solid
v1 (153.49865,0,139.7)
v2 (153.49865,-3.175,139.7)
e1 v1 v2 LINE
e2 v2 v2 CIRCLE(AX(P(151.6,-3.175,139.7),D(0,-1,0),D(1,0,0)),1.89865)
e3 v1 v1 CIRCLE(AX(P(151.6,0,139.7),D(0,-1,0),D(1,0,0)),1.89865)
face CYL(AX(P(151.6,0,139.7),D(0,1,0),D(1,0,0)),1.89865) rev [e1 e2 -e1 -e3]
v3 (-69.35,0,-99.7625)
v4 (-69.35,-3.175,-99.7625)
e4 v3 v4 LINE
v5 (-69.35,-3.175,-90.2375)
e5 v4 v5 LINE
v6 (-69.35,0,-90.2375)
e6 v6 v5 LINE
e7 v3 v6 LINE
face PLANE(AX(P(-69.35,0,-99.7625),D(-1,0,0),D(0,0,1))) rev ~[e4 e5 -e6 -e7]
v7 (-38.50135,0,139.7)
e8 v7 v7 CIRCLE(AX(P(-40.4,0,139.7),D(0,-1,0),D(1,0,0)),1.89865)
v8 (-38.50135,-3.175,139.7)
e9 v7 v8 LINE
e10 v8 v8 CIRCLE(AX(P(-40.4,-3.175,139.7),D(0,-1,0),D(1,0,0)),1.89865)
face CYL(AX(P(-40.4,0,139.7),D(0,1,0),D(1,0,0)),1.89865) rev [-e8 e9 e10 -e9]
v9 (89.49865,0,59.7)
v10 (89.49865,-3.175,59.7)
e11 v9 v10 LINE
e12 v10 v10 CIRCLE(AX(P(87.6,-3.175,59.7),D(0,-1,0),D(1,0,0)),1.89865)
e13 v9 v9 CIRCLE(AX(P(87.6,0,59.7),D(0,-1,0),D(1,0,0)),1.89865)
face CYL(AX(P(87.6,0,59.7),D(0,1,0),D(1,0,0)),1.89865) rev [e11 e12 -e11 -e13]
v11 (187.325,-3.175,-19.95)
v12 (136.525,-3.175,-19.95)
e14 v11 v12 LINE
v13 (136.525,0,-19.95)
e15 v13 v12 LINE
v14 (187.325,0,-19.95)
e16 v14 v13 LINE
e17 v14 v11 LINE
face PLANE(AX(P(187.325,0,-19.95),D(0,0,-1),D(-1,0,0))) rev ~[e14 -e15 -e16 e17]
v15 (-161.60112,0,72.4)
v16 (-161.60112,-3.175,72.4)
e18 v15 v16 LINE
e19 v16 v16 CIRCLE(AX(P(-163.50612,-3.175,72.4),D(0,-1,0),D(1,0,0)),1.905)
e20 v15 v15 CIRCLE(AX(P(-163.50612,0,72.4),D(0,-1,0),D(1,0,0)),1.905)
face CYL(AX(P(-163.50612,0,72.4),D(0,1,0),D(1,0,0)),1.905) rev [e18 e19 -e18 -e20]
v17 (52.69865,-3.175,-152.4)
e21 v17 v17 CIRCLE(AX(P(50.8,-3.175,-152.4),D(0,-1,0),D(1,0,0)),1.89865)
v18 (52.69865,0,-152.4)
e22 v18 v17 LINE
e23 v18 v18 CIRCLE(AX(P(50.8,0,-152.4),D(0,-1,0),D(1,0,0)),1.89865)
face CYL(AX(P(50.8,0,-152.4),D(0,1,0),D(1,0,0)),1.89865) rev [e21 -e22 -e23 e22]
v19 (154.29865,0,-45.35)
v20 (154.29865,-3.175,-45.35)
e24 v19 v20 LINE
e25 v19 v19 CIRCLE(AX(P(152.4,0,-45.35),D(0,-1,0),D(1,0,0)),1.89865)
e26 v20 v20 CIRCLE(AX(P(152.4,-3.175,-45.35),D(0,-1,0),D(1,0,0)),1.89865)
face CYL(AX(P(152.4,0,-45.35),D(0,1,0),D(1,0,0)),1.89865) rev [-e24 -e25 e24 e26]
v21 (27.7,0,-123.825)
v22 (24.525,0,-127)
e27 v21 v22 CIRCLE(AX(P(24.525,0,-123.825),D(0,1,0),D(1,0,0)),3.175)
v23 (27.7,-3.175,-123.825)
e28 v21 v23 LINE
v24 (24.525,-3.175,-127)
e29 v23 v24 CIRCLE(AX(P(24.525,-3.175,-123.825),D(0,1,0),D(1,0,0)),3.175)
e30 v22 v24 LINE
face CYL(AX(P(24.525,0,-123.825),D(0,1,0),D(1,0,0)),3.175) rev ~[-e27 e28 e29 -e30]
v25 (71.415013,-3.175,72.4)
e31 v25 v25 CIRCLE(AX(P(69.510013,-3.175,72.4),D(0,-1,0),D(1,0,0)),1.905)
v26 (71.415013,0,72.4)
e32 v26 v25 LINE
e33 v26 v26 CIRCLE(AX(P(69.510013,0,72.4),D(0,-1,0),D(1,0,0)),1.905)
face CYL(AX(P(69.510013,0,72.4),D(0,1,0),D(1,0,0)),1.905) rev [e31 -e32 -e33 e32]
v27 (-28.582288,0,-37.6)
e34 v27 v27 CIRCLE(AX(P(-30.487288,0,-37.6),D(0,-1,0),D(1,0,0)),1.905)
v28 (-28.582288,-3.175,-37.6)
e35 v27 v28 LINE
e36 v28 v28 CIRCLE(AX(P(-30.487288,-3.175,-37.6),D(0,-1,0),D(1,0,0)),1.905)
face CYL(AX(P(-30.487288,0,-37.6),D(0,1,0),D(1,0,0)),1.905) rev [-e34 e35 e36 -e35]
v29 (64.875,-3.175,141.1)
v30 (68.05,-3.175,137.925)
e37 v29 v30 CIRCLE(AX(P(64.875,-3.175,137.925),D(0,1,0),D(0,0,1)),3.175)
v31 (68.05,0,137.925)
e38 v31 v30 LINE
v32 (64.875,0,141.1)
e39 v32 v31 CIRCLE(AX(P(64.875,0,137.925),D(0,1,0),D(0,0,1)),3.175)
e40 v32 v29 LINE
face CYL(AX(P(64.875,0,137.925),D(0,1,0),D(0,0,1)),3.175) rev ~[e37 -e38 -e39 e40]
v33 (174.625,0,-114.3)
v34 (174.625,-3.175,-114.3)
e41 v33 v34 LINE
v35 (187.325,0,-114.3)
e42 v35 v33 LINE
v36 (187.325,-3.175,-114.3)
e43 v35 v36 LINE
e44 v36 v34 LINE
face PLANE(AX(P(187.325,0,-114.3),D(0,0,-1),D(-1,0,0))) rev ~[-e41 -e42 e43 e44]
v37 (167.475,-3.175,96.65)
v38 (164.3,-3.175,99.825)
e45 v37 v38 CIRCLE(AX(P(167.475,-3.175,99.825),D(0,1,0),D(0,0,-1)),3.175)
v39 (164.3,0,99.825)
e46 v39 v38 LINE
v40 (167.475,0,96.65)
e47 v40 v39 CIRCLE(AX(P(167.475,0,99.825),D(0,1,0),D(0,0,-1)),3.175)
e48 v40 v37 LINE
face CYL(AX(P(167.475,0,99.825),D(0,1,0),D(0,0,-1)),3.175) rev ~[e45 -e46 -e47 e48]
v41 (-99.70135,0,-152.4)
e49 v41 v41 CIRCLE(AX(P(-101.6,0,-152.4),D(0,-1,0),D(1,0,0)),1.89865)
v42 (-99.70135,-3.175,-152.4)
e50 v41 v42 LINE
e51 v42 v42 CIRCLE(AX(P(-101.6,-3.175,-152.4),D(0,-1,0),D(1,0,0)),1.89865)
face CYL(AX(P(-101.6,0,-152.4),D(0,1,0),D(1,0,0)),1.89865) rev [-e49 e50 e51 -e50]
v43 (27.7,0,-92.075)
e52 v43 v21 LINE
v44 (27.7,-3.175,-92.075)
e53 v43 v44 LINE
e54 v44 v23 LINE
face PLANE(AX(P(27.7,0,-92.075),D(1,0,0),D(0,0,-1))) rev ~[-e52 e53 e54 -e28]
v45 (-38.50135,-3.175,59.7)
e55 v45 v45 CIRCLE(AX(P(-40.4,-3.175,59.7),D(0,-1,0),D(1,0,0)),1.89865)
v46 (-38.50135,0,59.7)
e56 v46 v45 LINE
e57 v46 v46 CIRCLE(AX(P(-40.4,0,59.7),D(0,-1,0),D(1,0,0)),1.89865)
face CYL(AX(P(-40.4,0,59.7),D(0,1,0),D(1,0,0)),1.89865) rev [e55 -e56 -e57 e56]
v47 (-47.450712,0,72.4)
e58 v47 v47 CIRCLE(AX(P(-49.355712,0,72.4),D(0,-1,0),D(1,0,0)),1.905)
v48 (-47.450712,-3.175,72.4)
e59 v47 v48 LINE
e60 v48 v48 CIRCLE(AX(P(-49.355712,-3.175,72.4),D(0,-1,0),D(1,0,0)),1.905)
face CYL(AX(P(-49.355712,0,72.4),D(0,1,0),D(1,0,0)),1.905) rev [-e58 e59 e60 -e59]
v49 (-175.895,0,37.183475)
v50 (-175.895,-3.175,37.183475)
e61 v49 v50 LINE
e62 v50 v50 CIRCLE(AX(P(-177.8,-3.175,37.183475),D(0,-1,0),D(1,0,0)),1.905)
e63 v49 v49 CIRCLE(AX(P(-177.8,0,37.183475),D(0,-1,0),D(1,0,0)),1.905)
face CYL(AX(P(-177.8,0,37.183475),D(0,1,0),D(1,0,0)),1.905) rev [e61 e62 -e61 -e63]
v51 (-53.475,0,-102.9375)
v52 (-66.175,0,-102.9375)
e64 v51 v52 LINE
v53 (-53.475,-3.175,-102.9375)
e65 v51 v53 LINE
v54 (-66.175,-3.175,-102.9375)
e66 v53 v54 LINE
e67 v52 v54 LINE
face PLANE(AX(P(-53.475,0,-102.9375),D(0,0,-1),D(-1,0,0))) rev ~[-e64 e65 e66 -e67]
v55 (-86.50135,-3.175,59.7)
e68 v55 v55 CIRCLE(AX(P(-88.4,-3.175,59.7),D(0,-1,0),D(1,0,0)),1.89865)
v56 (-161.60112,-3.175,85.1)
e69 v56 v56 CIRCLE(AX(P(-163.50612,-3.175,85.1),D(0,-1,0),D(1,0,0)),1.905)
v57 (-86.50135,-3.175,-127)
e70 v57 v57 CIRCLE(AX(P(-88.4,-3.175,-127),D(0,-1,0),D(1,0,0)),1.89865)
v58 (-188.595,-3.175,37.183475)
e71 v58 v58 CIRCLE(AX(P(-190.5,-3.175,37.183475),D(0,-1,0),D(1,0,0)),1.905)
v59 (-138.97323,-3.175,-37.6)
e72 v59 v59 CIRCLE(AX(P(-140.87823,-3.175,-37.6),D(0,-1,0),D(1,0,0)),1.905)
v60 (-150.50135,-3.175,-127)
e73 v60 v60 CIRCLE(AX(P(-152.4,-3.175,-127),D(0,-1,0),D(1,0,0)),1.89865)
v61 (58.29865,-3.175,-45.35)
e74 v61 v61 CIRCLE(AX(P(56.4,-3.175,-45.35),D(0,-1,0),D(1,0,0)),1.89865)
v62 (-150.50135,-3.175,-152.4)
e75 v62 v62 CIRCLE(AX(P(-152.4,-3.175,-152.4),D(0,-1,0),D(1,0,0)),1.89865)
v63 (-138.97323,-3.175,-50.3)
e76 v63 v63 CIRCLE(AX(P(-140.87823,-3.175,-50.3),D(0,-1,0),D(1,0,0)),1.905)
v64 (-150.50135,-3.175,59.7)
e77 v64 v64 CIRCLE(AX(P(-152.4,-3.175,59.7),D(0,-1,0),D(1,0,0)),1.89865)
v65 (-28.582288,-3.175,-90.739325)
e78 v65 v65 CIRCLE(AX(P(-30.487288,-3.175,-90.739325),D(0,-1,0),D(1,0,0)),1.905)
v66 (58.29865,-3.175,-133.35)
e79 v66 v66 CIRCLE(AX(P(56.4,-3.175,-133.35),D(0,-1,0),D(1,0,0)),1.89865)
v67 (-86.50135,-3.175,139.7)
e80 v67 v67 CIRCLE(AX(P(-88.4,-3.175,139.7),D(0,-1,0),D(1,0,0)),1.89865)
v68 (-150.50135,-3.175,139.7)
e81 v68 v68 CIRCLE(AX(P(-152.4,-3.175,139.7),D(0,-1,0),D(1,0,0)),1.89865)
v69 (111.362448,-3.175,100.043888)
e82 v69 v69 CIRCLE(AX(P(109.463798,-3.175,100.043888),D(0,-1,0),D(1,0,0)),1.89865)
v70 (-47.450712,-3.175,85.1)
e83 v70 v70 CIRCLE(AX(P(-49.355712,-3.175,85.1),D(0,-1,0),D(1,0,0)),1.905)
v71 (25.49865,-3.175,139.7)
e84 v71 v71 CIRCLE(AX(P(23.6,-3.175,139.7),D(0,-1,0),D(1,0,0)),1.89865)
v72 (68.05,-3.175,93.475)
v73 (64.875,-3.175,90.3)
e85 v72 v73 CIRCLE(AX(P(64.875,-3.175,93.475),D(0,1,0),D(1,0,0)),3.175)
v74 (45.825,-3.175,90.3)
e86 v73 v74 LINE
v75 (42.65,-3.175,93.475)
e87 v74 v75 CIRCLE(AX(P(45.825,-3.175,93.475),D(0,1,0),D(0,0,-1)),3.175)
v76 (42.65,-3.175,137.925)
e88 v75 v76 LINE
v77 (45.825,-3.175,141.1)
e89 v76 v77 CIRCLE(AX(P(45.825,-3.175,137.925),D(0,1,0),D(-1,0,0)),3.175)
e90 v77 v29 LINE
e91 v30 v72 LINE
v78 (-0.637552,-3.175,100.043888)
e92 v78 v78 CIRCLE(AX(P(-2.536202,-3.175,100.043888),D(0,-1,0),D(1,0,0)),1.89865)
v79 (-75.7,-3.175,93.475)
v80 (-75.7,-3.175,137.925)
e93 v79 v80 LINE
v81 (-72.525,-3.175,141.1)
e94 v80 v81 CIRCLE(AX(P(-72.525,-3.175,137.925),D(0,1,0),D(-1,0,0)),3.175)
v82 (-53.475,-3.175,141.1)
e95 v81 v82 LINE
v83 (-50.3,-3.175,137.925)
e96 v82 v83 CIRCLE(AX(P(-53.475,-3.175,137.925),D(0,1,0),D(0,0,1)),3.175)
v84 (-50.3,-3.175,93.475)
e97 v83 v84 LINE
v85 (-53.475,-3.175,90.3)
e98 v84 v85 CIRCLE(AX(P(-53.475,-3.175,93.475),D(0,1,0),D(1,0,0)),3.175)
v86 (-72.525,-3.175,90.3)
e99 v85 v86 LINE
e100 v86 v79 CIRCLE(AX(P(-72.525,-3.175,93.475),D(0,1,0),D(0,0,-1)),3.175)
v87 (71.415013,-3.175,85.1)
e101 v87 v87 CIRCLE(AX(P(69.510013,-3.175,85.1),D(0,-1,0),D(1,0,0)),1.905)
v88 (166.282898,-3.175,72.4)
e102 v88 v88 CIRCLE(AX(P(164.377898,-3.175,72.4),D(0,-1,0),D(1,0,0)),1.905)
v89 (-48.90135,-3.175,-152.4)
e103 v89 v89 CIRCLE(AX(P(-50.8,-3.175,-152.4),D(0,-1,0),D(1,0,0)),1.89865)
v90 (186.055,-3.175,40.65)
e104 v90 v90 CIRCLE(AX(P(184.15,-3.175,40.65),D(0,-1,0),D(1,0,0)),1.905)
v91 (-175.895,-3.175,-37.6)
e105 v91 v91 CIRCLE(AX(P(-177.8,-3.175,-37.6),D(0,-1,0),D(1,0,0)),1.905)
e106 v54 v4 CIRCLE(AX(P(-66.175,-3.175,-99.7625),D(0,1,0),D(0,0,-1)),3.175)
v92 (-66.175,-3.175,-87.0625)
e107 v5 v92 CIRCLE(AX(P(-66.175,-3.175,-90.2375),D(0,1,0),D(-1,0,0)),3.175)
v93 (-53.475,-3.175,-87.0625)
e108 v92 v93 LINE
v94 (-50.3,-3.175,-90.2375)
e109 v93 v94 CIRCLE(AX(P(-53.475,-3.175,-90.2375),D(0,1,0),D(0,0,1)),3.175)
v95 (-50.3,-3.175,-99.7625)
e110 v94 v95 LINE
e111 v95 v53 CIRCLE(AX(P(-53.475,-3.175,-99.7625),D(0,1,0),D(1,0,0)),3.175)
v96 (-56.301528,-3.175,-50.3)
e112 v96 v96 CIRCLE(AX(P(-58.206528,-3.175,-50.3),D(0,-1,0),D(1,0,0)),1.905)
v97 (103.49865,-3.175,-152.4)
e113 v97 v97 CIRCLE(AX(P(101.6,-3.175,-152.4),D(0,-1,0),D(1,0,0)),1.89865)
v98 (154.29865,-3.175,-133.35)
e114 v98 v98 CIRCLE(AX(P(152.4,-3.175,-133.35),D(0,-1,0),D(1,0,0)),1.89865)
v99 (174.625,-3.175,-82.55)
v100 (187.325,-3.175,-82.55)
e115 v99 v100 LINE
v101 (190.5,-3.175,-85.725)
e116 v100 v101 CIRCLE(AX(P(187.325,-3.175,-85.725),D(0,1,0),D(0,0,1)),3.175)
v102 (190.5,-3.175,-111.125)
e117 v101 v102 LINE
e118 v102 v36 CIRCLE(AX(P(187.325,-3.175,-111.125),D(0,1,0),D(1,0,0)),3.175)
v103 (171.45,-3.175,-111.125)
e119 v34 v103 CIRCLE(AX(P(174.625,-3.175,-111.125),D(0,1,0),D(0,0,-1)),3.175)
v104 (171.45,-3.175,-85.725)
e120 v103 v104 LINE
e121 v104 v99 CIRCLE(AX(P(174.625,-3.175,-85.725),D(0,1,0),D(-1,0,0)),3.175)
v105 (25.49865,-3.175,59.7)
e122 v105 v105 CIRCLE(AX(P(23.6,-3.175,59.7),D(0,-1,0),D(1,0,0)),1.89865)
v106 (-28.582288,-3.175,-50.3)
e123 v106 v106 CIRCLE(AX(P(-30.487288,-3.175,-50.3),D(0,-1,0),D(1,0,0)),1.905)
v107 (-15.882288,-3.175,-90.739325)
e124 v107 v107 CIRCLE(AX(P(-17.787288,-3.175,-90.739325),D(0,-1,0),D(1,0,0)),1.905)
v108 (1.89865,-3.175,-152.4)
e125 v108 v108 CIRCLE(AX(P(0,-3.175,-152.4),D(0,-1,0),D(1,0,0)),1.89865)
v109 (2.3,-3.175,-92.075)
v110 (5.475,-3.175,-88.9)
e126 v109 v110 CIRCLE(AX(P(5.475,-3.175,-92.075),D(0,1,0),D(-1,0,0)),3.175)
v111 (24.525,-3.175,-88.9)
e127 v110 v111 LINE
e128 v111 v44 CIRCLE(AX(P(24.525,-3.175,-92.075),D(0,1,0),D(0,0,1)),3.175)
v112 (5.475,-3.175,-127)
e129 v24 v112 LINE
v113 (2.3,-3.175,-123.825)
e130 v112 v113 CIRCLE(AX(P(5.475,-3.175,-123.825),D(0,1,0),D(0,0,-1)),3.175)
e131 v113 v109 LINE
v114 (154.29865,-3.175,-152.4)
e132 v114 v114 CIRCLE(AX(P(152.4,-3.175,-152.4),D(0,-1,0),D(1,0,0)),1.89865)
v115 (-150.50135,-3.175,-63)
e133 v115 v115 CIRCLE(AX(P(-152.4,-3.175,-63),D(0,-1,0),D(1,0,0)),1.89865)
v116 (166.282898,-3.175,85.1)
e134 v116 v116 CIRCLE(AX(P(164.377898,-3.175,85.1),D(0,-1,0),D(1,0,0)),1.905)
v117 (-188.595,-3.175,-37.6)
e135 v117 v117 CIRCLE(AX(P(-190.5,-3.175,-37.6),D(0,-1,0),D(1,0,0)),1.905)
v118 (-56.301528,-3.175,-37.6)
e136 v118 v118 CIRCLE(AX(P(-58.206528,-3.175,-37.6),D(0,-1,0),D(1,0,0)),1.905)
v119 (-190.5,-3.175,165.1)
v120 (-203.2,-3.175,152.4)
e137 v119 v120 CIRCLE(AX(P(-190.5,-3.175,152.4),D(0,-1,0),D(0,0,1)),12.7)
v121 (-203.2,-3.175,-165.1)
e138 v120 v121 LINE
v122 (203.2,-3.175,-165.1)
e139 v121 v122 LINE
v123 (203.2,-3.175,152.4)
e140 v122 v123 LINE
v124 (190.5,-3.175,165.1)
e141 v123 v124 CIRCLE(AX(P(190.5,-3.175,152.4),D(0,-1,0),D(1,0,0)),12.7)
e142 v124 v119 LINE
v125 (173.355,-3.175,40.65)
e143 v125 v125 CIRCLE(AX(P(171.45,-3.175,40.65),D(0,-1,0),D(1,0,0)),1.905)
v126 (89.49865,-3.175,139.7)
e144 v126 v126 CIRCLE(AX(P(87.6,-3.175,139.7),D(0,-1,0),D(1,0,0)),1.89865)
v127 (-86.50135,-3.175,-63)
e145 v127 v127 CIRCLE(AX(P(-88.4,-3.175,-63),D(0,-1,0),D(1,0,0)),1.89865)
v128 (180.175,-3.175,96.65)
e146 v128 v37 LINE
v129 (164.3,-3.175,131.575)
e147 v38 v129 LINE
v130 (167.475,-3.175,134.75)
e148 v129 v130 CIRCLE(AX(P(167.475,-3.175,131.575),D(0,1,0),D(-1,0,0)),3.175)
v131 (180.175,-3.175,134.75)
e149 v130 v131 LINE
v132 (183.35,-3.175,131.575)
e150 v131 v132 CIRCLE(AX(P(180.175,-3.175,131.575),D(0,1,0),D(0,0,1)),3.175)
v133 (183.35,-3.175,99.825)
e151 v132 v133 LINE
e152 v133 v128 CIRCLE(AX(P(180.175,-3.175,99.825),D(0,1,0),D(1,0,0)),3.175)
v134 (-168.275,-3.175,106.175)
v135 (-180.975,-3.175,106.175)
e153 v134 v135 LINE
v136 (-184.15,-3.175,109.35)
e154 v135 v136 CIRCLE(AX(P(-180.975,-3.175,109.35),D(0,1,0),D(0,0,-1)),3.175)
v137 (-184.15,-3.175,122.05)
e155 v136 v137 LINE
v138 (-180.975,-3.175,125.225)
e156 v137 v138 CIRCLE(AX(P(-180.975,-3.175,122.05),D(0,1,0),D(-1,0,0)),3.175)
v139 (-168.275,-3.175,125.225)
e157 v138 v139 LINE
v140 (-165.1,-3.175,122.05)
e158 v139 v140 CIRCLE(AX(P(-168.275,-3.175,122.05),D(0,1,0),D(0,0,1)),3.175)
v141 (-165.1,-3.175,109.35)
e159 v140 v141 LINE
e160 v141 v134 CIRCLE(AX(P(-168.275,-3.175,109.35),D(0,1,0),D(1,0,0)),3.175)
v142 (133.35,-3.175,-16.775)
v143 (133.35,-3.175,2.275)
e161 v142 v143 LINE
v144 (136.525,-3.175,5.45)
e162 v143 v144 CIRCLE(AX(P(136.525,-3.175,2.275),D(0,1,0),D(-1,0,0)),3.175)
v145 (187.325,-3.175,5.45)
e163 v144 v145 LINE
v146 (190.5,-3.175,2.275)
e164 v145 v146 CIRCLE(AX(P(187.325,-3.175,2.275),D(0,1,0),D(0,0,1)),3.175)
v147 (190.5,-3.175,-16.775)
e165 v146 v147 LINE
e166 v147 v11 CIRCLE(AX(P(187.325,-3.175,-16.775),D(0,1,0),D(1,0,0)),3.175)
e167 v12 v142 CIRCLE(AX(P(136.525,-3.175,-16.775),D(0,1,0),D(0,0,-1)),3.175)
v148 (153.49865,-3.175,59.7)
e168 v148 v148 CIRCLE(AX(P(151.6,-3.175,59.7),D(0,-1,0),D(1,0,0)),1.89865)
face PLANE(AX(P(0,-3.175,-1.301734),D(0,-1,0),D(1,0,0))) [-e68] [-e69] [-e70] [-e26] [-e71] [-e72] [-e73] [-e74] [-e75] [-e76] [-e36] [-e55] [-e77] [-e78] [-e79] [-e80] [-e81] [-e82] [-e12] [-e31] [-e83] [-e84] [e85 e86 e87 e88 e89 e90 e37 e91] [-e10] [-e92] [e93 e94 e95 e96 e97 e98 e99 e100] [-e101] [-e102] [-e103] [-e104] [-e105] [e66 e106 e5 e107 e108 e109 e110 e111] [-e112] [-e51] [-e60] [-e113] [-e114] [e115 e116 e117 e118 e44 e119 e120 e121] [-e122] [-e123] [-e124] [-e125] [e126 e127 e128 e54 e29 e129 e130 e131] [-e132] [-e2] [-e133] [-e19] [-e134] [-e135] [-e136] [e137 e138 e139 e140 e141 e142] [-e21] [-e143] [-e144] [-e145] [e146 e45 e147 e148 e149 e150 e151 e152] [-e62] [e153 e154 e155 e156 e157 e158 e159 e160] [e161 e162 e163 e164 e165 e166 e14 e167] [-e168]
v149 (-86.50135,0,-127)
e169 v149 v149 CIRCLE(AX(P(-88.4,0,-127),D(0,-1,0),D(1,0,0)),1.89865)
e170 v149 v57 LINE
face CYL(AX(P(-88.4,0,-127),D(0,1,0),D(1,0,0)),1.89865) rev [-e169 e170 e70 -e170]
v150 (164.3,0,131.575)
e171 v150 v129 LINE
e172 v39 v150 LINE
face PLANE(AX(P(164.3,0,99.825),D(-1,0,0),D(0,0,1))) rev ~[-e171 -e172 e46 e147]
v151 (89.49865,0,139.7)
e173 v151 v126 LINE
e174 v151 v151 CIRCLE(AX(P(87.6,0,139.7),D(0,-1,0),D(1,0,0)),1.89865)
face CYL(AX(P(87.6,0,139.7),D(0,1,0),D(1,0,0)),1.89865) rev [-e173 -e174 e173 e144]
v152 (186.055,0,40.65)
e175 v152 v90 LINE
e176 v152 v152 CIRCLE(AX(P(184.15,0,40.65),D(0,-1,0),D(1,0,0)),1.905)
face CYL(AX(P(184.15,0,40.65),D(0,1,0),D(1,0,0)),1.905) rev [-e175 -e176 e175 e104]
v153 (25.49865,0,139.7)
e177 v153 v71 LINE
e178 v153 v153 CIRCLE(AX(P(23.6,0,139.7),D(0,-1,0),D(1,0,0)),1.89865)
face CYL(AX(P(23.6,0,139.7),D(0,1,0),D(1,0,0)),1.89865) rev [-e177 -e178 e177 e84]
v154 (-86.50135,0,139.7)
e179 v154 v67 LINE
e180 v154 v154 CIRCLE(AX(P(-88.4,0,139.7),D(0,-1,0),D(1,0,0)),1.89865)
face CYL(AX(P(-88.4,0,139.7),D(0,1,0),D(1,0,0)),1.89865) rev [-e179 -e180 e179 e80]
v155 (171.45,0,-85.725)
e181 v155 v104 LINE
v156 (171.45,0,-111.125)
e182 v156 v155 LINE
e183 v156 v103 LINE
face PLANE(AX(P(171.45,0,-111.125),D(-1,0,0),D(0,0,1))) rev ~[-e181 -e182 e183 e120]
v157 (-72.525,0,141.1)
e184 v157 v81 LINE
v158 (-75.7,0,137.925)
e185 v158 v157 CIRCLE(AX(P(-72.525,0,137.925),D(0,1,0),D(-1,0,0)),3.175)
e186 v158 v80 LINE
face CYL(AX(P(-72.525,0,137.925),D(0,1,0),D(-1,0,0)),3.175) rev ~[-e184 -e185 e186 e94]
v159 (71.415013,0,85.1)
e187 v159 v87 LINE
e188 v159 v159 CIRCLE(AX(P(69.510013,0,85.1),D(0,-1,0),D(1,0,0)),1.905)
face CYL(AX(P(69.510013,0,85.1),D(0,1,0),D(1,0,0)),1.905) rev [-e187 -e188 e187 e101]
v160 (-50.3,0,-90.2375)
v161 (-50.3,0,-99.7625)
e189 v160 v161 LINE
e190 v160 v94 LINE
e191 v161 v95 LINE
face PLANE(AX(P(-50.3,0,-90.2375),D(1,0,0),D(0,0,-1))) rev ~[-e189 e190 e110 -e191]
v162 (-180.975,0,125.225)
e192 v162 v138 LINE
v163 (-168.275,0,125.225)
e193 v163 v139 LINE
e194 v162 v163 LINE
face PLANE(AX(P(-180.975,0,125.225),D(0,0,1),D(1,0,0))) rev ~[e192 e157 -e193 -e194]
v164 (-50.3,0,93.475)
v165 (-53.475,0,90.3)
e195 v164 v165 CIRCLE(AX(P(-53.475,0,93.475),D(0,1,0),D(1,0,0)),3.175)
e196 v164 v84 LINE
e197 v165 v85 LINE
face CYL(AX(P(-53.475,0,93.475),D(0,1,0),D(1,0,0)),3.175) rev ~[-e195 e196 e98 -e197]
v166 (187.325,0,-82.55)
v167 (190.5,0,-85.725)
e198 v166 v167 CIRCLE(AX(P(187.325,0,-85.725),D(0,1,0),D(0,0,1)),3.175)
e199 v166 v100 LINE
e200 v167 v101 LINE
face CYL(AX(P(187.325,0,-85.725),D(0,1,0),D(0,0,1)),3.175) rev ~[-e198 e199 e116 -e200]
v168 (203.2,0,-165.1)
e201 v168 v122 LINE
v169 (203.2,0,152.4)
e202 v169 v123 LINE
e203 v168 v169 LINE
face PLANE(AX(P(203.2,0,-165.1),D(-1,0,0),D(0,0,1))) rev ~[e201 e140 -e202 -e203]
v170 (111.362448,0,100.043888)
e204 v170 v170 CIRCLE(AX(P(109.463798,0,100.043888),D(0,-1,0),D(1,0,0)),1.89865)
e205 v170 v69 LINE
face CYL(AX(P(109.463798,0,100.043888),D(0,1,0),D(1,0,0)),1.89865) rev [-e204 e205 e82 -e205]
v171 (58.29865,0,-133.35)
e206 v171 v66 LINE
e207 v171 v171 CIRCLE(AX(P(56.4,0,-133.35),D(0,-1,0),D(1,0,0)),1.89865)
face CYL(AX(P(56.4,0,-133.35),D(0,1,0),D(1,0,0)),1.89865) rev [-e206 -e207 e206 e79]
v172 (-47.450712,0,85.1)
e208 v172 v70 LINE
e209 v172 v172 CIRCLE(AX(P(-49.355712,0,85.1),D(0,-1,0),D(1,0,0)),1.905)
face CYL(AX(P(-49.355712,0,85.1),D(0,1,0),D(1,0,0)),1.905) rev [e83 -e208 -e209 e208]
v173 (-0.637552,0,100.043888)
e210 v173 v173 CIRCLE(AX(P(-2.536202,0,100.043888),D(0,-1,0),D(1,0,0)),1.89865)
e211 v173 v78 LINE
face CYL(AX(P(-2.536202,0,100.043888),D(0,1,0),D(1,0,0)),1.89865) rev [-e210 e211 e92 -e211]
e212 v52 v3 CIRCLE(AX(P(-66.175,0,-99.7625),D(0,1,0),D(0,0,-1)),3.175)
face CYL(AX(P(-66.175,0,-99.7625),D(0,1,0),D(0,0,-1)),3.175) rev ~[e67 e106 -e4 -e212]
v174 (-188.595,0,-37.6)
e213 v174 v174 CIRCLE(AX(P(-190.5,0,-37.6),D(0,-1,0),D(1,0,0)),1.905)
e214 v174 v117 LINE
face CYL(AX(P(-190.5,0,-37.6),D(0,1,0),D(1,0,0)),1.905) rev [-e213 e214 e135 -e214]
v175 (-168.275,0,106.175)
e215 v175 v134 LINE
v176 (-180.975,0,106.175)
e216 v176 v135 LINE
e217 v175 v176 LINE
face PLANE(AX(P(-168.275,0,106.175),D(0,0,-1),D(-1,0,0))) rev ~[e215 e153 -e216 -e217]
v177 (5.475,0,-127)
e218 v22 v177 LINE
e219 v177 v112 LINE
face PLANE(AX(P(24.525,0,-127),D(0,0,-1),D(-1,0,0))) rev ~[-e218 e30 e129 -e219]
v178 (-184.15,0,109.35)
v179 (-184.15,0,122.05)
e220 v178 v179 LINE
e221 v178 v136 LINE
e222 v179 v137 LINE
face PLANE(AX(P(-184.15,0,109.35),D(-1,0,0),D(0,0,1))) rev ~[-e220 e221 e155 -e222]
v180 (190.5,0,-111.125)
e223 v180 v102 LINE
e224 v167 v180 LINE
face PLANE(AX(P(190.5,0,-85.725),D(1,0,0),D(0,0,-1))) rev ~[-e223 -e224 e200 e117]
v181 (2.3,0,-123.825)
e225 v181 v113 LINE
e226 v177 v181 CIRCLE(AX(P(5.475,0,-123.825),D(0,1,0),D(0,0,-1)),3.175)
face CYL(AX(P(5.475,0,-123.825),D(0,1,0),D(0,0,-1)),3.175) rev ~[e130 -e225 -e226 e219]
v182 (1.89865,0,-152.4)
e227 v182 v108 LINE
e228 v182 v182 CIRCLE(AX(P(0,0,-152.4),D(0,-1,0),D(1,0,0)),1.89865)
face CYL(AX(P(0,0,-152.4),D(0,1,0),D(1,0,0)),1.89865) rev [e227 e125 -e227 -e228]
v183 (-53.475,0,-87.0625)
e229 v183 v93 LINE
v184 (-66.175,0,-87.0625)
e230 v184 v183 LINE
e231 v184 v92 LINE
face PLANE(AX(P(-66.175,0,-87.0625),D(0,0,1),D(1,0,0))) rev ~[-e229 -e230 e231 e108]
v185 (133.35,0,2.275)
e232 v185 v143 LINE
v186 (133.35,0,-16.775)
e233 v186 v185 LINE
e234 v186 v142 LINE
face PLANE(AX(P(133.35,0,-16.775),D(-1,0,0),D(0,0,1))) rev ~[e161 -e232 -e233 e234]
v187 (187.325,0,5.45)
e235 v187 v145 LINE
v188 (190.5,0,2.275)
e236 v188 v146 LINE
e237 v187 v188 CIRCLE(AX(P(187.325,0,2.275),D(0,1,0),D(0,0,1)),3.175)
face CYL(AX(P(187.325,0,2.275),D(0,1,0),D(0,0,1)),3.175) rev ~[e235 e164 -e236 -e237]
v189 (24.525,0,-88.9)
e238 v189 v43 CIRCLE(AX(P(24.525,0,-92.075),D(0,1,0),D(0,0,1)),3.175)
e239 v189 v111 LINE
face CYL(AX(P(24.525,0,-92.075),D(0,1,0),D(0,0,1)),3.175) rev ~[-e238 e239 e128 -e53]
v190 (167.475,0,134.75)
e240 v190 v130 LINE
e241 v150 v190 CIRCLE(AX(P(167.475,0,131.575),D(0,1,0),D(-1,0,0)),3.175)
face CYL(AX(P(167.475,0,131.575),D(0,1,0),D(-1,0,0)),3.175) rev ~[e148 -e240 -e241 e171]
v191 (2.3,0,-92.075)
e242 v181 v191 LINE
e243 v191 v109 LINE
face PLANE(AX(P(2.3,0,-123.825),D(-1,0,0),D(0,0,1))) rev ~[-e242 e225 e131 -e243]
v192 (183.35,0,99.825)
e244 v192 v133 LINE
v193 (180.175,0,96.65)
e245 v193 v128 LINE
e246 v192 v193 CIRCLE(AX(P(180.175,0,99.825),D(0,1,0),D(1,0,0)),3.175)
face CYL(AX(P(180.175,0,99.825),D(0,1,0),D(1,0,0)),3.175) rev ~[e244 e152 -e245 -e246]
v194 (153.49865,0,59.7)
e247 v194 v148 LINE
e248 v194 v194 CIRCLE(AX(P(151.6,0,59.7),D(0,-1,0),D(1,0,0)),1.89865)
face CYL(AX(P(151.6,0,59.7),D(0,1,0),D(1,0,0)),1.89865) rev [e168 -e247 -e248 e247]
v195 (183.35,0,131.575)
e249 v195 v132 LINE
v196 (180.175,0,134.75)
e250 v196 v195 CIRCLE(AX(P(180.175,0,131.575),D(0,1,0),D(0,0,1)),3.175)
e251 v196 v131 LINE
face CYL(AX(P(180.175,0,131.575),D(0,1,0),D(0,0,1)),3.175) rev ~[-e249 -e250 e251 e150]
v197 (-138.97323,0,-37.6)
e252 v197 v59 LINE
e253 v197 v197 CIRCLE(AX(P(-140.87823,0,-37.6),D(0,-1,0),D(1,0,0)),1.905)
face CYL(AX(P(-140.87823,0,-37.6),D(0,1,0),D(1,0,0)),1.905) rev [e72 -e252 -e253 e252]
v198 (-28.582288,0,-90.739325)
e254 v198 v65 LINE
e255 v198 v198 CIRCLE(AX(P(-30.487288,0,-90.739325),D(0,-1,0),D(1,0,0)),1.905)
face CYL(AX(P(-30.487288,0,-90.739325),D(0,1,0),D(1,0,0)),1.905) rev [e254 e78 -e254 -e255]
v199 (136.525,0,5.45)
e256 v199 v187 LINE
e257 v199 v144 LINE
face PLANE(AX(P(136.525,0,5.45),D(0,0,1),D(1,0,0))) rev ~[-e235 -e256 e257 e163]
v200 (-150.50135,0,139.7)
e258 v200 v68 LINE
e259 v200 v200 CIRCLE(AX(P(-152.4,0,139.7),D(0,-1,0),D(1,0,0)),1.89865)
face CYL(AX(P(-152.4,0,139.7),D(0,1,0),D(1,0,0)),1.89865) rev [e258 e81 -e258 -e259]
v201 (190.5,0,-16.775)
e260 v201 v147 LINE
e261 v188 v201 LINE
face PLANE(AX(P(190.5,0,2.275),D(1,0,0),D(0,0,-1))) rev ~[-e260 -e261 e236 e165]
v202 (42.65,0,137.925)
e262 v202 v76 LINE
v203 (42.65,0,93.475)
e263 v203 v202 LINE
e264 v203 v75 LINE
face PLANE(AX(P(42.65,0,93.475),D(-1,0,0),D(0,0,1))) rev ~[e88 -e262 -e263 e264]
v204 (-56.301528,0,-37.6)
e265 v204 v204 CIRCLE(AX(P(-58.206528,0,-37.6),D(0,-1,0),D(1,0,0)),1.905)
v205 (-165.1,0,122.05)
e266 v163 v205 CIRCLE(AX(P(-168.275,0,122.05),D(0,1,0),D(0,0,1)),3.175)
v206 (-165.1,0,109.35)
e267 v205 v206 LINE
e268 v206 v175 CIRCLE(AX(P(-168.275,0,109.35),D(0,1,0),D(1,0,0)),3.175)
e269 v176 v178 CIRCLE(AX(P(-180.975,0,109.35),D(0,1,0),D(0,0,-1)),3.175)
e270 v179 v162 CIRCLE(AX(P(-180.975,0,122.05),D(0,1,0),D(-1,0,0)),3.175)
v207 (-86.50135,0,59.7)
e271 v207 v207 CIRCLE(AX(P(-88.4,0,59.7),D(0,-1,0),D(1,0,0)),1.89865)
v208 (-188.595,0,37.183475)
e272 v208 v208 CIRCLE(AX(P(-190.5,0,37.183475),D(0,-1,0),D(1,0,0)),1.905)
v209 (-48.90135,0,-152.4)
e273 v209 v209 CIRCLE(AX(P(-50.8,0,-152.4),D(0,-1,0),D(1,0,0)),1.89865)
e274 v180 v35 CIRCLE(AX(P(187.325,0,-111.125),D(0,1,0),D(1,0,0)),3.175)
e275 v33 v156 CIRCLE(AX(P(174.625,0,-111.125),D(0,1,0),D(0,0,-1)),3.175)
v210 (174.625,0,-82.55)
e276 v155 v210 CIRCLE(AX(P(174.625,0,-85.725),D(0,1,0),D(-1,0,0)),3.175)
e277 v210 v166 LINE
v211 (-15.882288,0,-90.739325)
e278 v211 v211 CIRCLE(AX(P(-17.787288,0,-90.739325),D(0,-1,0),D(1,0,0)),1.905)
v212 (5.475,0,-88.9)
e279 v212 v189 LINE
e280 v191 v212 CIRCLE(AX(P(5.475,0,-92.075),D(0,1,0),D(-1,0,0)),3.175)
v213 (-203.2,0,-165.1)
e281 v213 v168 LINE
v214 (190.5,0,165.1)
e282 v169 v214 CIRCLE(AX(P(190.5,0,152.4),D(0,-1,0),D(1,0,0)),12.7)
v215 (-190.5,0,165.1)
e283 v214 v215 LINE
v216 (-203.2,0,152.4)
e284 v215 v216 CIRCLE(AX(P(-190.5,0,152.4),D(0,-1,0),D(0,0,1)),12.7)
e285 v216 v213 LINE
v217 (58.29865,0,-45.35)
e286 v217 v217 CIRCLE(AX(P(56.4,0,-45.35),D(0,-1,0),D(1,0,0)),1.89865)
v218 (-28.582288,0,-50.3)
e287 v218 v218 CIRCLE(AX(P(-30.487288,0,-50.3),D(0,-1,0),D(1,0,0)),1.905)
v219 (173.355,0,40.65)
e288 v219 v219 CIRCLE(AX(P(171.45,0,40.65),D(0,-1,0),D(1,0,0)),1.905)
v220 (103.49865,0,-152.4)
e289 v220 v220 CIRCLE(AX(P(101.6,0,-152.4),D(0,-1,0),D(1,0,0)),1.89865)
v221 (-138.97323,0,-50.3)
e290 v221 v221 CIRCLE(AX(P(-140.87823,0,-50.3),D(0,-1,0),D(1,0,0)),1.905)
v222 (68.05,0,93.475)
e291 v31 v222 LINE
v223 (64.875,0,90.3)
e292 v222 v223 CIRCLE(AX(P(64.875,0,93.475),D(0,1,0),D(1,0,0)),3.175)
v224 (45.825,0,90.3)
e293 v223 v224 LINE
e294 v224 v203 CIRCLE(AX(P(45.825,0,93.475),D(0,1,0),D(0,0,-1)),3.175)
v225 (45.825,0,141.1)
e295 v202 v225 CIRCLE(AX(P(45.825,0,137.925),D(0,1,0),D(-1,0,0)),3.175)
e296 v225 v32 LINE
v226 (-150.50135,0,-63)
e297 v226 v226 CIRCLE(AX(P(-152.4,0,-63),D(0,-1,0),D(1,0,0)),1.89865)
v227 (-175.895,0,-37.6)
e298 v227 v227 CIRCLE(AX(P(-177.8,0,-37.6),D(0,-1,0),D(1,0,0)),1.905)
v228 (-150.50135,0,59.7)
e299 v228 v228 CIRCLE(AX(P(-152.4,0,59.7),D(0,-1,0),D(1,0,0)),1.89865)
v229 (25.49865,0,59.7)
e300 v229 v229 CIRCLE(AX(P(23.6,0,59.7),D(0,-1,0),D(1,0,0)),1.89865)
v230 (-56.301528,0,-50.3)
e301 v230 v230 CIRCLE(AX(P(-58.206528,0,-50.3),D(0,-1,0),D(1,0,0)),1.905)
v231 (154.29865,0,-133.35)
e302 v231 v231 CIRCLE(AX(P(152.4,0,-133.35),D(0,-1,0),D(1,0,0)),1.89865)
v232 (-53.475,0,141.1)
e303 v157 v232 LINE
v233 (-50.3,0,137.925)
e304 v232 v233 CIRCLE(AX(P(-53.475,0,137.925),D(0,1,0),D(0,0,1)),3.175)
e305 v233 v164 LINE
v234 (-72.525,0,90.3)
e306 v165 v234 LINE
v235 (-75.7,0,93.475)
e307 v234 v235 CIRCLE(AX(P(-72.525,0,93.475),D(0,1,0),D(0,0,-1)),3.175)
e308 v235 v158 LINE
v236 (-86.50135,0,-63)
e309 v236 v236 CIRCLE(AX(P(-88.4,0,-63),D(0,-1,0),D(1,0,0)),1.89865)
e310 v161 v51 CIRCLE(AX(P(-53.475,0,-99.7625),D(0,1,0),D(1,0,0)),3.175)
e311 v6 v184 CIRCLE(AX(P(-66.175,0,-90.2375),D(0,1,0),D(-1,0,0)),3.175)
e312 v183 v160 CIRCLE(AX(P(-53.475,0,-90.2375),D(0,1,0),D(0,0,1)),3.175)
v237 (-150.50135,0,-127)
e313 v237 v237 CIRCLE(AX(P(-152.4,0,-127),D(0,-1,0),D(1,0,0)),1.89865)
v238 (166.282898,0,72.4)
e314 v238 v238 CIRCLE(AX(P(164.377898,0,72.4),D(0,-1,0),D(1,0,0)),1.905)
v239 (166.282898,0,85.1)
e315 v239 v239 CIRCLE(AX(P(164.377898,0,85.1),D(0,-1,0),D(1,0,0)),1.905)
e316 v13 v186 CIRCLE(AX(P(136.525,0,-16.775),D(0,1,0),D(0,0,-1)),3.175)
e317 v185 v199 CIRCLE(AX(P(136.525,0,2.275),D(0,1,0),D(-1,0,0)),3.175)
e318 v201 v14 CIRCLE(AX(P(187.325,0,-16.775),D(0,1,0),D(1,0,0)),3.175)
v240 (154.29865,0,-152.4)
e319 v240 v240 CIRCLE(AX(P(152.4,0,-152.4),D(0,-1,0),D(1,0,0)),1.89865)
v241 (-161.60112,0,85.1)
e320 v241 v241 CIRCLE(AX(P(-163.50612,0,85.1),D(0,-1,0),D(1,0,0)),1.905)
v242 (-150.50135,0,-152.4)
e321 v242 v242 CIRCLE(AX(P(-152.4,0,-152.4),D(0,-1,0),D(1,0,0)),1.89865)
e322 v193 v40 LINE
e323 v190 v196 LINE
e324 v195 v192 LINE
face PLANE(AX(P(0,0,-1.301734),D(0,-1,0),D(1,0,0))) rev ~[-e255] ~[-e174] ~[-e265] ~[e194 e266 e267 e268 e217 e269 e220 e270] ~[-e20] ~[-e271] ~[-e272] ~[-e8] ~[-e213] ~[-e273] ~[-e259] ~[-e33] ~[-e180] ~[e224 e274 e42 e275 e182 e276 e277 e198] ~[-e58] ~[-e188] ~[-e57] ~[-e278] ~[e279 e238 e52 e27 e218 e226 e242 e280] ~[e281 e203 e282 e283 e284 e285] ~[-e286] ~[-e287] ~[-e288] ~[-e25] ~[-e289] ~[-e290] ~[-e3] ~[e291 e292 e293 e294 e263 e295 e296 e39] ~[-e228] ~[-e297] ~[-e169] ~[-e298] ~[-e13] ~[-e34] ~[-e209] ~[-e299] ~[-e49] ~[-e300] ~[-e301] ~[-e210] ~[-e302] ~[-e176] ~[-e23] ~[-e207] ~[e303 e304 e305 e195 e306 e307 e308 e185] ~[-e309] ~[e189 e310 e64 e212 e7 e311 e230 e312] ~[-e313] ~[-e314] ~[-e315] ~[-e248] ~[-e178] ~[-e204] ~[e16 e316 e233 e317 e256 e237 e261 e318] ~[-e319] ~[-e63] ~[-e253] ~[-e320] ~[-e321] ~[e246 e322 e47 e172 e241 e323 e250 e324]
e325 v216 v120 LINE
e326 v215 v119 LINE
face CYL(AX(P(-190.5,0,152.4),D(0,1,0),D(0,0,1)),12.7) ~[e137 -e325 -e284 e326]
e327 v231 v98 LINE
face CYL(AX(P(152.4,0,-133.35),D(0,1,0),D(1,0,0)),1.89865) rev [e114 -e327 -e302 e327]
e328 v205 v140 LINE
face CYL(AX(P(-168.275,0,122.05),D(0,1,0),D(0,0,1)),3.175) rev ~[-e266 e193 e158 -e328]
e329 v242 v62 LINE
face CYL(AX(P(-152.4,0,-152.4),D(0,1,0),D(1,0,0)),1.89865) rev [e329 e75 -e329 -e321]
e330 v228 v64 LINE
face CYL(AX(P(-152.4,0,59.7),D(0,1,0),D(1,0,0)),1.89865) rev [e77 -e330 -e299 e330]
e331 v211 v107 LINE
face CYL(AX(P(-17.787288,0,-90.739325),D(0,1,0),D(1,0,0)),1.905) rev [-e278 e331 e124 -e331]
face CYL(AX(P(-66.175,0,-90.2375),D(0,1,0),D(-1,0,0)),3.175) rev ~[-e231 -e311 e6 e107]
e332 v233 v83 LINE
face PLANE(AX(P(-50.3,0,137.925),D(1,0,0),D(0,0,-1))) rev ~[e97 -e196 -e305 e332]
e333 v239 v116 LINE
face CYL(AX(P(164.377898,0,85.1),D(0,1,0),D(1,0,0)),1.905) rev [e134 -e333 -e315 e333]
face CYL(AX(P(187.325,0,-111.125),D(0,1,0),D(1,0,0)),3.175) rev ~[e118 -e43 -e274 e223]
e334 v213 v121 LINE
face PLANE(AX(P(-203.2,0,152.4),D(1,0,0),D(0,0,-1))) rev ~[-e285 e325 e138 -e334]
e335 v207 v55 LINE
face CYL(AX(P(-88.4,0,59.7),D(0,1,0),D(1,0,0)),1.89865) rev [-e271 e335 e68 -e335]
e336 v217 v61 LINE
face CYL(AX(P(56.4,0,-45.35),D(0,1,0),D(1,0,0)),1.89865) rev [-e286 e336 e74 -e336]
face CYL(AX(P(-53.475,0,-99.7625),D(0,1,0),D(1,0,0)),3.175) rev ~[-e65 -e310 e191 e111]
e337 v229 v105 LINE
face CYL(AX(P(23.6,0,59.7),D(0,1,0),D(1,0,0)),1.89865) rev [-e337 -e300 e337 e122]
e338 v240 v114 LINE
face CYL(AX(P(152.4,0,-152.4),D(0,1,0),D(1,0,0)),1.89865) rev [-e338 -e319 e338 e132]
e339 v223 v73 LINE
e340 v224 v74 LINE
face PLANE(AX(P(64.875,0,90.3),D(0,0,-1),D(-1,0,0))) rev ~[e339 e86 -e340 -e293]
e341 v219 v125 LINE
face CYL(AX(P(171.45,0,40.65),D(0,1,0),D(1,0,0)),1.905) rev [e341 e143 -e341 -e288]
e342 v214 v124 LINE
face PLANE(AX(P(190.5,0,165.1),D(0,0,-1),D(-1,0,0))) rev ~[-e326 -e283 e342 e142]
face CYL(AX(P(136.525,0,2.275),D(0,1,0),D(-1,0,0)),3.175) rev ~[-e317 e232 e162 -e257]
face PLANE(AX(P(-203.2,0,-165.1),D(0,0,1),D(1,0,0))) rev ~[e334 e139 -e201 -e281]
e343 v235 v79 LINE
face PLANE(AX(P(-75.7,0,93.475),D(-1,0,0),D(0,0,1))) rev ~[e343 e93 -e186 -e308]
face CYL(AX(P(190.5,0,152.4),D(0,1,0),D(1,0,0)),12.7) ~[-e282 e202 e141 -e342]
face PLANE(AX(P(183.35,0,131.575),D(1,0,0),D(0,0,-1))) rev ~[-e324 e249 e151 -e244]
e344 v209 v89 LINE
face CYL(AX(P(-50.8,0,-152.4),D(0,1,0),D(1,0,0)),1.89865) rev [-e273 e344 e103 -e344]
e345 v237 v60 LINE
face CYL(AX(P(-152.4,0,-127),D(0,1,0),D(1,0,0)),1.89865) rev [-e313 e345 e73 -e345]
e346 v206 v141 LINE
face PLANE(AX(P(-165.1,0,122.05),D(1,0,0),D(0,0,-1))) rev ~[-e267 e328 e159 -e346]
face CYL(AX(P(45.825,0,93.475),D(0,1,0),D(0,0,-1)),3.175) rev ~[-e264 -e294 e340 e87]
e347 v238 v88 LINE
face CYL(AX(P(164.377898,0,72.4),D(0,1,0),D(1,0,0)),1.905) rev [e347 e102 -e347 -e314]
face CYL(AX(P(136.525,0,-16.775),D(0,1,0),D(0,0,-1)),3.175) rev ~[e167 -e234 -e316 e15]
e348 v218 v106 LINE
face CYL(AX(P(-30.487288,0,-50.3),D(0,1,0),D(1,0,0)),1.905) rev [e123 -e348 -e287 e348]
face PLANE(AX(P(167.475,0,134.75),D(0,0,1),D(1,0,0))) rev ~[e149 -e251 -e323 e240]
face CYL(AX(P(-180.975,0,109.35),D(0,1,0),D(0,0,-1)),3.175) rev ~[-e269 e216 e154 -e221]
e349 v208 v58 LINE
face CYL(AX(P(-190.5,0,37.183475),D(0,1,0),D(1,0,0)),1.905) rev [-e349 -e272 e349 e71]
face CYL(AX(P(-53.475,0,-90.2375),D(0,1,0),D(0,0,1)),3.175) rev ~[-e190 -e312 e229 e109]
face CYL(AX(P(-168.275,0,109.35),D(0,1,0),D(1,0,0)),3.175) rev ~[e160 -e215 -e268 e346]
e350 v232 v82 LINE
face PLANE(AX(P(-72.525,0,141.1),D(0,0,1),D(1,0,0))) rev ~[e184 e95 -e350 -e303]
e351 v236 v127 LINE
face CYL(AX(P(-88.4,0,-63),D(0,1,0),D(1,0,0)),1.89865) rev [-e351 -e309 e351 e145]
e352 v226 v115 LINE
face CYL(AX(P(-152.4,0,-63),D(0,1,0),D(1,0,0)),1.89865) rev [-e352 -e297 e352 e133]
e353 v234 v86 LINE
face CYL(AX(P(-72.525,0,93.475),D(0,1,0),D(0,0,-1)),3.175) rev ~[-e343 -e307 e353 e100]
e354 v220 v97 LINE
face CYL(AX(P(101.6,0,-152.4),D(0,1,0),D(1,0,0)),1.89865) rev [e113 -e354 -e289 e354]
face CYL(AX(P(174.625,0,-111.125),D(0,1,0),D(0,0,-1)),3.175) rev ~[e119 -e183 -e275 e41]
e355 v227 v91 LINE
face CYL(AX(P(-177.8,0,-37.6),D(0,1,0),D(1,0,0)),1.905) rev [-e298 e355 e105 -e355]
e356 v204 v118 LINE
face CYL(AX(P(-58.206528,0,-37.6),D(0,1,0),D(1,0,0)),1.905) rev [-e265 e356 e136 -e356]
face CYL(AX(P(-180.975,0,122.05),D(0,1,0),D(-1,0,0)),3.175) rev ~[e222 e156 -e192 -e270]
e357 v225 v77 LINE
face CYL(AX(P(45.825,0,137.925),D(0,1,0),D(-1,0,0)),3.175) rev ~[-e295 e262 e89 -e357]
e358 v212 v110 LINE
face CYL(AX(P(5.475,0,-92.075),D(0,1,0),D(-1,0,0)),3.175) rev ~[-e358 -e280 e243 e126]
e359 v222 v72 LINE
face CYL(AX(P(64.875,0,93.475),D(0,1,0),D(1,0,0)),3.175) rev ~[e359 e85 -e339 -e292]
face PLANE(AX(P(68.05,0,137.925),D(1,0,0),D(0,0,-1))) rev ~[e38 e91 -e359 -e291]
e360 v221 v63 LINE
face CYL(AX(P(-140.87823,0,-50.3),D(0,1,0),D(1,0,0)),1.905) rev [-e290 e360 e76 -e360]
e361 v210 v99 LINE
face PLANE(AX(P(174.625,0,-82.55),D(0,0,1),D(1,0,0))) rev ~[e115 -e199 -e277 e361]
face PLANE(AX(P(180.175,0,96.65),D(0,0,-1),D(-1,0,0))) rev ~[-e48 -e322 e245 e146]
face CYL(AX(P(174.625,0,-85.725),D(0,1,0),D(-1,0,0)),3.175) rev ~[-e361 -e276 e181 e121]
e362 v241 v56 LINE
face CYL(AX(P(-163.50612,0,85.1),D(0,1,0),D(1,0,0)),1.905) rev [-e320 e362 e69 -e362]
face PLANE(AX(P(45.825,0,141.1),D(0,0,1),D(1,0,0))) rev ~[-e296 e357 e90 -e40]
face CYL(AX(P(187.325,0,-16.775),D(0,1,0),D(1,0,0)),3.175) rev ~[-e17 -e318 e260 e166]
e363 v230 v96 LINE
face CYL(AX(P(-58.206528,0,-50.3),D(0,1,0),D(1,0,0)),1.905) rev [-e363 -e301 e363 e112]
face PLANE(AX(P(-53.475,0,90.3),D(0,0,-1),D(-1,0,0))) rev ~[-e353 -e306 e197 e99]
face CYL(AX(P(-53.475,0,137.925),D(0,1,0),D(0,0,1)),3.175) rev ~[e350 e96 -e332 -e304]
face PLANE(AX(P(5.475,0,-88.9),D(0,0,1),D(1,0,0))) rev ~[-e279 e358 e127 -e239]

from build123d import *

# Parameters (mm, degrees)
F0_R     = 1.89865
F0_R_2   = 1.905
F1_DEPTH = 3.175


with BuildPart() as f1:
    # F0 (on Front) → F1 (new body)
    with BuildSketch(Plane.XZ):
        with BuildLine():
            Line((190.5, 165.1), (-190.5, 165.1))
            ThreePointArc((-190.5, 165.1), (-199.4802561211, 161.3802561211), (-203.2, 152.4))
            Line((-203.2, 152.4), (-203.2, -165.1))
            Line((-203.2, -165.1), (203.2, -165.1))
            Line((203.2, -165.1), (203.2, 152.4))
            ThreePointArc((203.2, 152.4), (199.4802561211, 161.3802561211), (190.5, 165.1))
        make_face()
        with Locations((-152.4, -152.4)):
            Circle(F0_R, mode=Mode.SUBTRACT)
        with Locations((-152.4, -127)):
            Circle(F0_R, mode=Mode.SUBTRACT)
        with Locations((-101.6, -152.4)):
            Circle(F0_R, mode=Mode.SUBTRACT)
        with Locations((-50.8, -152.4)):
            Circle(F0_R, mode=Mode.SUBTRACT)
        with Locations((-88.4, -127)):
            Circle(F0_R, mode=Mode.SUBTRACT)
        with Locations((0, -152.4)):
            Circle(F0_R, mode=Mode.SUBTRACT)
        with BuildLine():
            ThreePointArc((-69.35, -90.2375), (-68.4200640303, -87.9924359697), (-66.175, -87.0625))
            Line((-66.175, -87.0625), (-53.475, -87.0625))
            ThreePointArc((-53.475, -87.0625), (-51.2299359697, -87.9924359697), (-50.3, -90.2375))
            Line((-50.3, -90.2375), (-50.3, -99.7625))
            ThreePointArc((-50.3, -99.7625), (-51.2299359697, -102.0075640303), (-53.475, -102.9375))
            Line((-53.475, -102.9375), (-66.175, -102.9375))
            ThreePointArc((-66.175, -102.9375), (-68.4200640303, -102.0075640303), (-69.35, -99.7625))
            Line((-69.35, -99.7625), (-69.35, -90.2375))
        make_face(mode=Mode.SUBTRACT)
        with BuildLine():
            ThreePointArc((2.3, -92.075), (3.2299359697, -89.8299359697), (5.475, -88.9))
            Line((5.475, -88.9), (24.525, -88.9))
            ThreePointArc((24.525, -88.9), (26.7700640303, -89.8299359697), (27.7, -92.075))
            Line((27.7, -92.075), (27.7, -123.825))
            ThreePointArc((27.7, -123.825), (26.7700640303, -126.0700640303), (24.525, -127))
            Line((24.525, -127), (5.475, -127))
            ThreePointArc((5.475, -127), (3.2299359697, -126.0700640303), (2.3, -123.825))
            Line((2.3, -123.825), (2.3, -92.075))
        make_face(mode=Mode.SUBTRACT)
        with Locations((-30.4872877896, -90.7393252313)):
            Circle(F0_R_2, mode=Mode.SUBTRACT)
        with Locations((-17.7872877896, -90.7393252313)):
            Circle(F0_R_2, mode=Mode.SUBTRACT)
        with Locations((-152.4, -63)):
            Circle(F0_R, mode=Mode.SUBTRACT)
        with Locations((-190.5, -37.6)):
            Circle(F0_R_2, mode=Mode.SUBTRACT)
        with Locations((-177.8, -37.6)):
            Circle(F0_R_2, mode=Mode.SUBTRACT)
        with Locations((-140.8782303333, -50.3)):
            Circle(F0_R_2, mode=Mode.SUBTRACT)
        with Locations((-140.8782303333, -37.6)):
            Circle(F0_R_2, mode=Mode.SUBTRACT)
        with Locations((-88.4, -63)):
            Circle(F0_R, mode=Mode.SUBTRACT)
        with Locations((-58.2065284252, -50.3)):
            Circle(F0_R_2, mode=Mode.SUBTRACT)
        with Locations((-58.2065284252, -37.6)):
            Circle(F0_R_2, mode=Mode.SUBTRACT)
        with Locations((-30.4872877896, -50.3)):
            Circle(F0_R_2, mode=Mode.SUBTRACT)
        with Locations((-30.4872877896, -37.6)):
            Circle(F0_R_2, mode=Mode.SUBTRACT)
        with Locations((50.8, -152.4)):
            Circle(F0_R, mode=Mode.SUBTRACT)
        with Locations((56.4, -133.35)):
            Circle(F0_R, mode=Mode.SUBTRACT)
        with Locations((101.6, -152.4)):
            Circle(F0_R, mode=Mode.SUBTRACT)
        with Locations((152.4, -152.4)):
            Circle(F0_R, mode=Mode.SUBTRACT)
        with Locations((152.4, -133.35)):
            Circle(F0_R, mode=Mode.SUBTRACT)
        with BuildLine():
            ThreePointArc((171.45, -85.725), (172.3799359697, -83.4799359697), (174.625, -82.55))
            Line((174.625, -82.55), (187.325, -82.55))
            ThreePointArc((187.325, -82.55), (189.5700640303, -83.4799359697), (190.5, -85.725))
            Line((190.5, -85.725), (190.5, -111.125))
            ThreePointArc((190.5, -111.125), (189.5700640303, -113.3700640303), (187.325, -114.3))
            Line((187.325, -114.3), (174.625, -114.3))
            ThreePointArc((174.625, -114.3), (172.3799359697, -113.3700640303), (171.45, -111.125))
            Line((171.45, -111.125), (171.45, -85.725))
        make_face(mode=Mode.SUBTRACT)
        with Locations((56.4, -45.35)):
            Circle(F0_R, mode=Mode.SUBTRACT)
        with Locations((152.4, -45.35)):
            Circle(F0_R, mode=Mode.SUBTRACT)
        with BuildLine():
            ThreePointArc((133.35, 2.275), (134.2799359697, 4.5200640303), (136.525, 5.45))
            Line((136.525, 5.45), (187.325, 5.45))
            ThreePointArc((187.325, 5.45), (189.5700640303, 4.5200640303), (190.5, 2.275))
            Line((190.5, 2.275), (190.5, -16.775))
            ThreePointArc((190.5, -16.775), (189.5700640303, -19.0200640303), (187.325, -19.95))
            Line((187.325, -19.95), (136.525, -19.95))
            ThreePointArc((136.525, -19.95), (134.2799359697, -19.0200640303), (133.35, -16.775))
            Line((133.35, -16.775), (133.35, 2.275))
        make_face(mode=Mode.SUBTRACT)
        with Locations((-190.5, 37.1834747493)):
            Circle(F0_R_2, mode=Mode.SUBTRACT)
        with Locations((-177.8, 37.1834747493)):
            Circle(F0_R_2, mode=Mode.SUBTRACT)
        with Locations((-152.4, 59.7)):
            Circle(F0_R, mode=Mode.SUBTRACT)
        with Locations((-163.5061204433, 72.4)):
            Circle(F0_R_2, mode=Mode.SUBTRACT)
        with Locations((-163.5061204433, 85.1)):
            Circle(F0_R_2, mode=Mode.SUBTRACT)
        with Locations((-88.4, 59.7)):
            Circle(F0_R, mode=Mode.SUBTRACT)
        with Locations((-40.4, 59.7)):
            Circle(F0_R, mode=Mode.SUBTRACT)
        with Locations((-49.3557117879, 72.4)):
            Circle(F0_R_2, mode=Mode.SUBTRACT)
        with Locations((-49.3557117879, 85.1)):
            Circle(F0_R_2, mode=Mode.SUBTRACT)
        with BuildLine():
            ThreePointArc((-184.15, 122.05), (-183.2200640303, 124.2950640303), (-180.975, 125.225))
            Line((-180.975, 125.225), (-168.275, 125.225))
            ThreePointArc((-168.275, 125.225), (-166.0299359697, 124.2950640303), (-165.1, 122.05))
            Line((-165.1, 122.05), (-165.1, 109.35))
            ThreePointArc((-165.1, 109.35), (-166.0299359697, 107.1049359697), (-168.275, 106.175))
            Line((-168.275, 106.175), (-180.975, 106.175))
            ThreePointArc((-180.975, 106.175), (-183.2200640303, 107.1049359697), (-184.15, 109.35))
            Line((-184.15, 109.35), (-184.15, 122.05))
        make_face(mode=Mode.SUBTRACT)
        with Locations((-152.4, 139.7)):
            Circle(F0_R, mode=Mode.SUBTRACT)
        with BuildLine():
            ThreePointArc((-75.7, 137.925), (-74.7700640303, 140.1700640303), (-72.525, 141.1))
            Line((-72.525, 141.1), (-53.475, 141.1))
            ThreePointArc((-53.475, 141.1), (-51.2299359697, 140.1700640303), (-50.3, 137.925))
            Line((-50.3, 137.925), (-50.3, 93.475))
            ThreePointArc((-50.3, 93.475), (-51.2299359697, 91.2299359697), (-53.475, 90.3))
            Line((-53.475, 90.3), (-72.525, 90.3))
            ThreePointArc((-72.525, 90.3), (-74.7700640303, 91.2299359697), (-75.7, 93.475))
            Line((-75.7, 93.475), (-75.7, 137.925))
        make_face(mode=Mode.SUBTRACT)
        with Locations((-2.5362023386, 100.0438879837)):
            Circle(F0_R, mode=Mode.SUBTRACT)
        with Locations((-88.4, 139.7)):
            Circle(F0_R, mode=Mode.SUBTRACT)
        with Locations((-40.4, 139.7)):
            Circle(F0_R, mode=Mode.SUBTRACT)
        with Locations((23.6, 59.7)):
            Circle(F0_R, mode=Mode.SUBTRACT)
        with Locations((69.5100128651, 72.4)):
            Circle(F0_R_2, mode=Mode.SUBTRACT)
        with Locations((69.5100128651, 85.1)):
            Circle(F0_R_2, mode=Mode.SUBTRACT)
        with Locations((87.6, 59.7)):
            Circle(F0_R, mode=Mode.SUBTRACT)
        with Locations((171.45, 40.65)):
            Circle(F0_R_2, mode=Mode.SUBTRACT)
        with Locations((184.15, 40.65)):
            Circle(F0_R_2, mode=Mode.SUBTRACT)
        with Locations((151.6, 59.7)):
            Circle(F0_R, mode=Mode.SUBTRACT)
        with Locations((164.3778979778, 72.4)):
            Circle(F0_R_2, mode=Mode.SUBTRACT)
        with Locations((164.3778979778, 85.1)):
            Circle(F0_R_2, mode=Mode.SUBTRACT)
        with BuildLine():
            ThreePointArc((42.65, 137.925), (43.5799359697, 140.1700640303), (45.825, 141.1))
            Line((45.825, 141.1), (64.875, 141.1))
            ThreePointArc((64.875, 141.1), (67.1200640303, 140.1700640303), (68.05, 137.925))
            Line((68.05, 137.925), (68.05, 93.475))
            ThreePointArc((68.05, 93.475), (67.1200640303, 91.2299359697), (64.875, 90.3))
            Line((64.875, 90.3), (45.825, 90.3))
            ThreePointArc((45.825, 90.3), (43.5799359697, 91.2299359697), (42.65, 93.475))
            Line((42.65, 93.475), (42.65, 137.925))
        make_face(mode=Mode.SUBTRACT)
        with Locations((109.4637976614, 100.0438879837)):
            Circle(F0_R, mode=Mode.SUBTRACT)
        with Locations((23.6, 139.7)):
            Circle(F0_R, mode=Mode.SUBTRACT)
        with Locations((87.6, 139.7)):
            Circle(F0_R, mode=Mode.SUBTRACT)
        with BuildLine():
            ThreePointArc((164.3, 131.575), (165.2299359697, 133.8200640303), (167.475, 134.75))
            Line((167.475, 134.75), (180.175, 134.75))
            ThreePointArc((180.175, 134.75), (182.4200640303, 133.8200640303), (183.35, 131.575))
            Line((183.35, 131.575), (183.35, 99.825))
            ThreePointArc((183.35, 99.825), (182.4200640303, 97.5799359697), (180.175, 96.65))
            Line((180.175, 96.65), (167.475, 96.65))
            ThreePointArc((167.475, 96.65), (165.2299359697, 97.5799359697), (164.3, 99.825))
            Line((164.3, 99.825), (164.3, 131.575))
        make_face(mode=Mode.SUBTRACT)
        with Locations((151.6, 139.7)):
            Circle(F0_R, mode=Mode.SUBTRACT)
    extrude(amount=F1_DEPTH)


solid = f1.part
